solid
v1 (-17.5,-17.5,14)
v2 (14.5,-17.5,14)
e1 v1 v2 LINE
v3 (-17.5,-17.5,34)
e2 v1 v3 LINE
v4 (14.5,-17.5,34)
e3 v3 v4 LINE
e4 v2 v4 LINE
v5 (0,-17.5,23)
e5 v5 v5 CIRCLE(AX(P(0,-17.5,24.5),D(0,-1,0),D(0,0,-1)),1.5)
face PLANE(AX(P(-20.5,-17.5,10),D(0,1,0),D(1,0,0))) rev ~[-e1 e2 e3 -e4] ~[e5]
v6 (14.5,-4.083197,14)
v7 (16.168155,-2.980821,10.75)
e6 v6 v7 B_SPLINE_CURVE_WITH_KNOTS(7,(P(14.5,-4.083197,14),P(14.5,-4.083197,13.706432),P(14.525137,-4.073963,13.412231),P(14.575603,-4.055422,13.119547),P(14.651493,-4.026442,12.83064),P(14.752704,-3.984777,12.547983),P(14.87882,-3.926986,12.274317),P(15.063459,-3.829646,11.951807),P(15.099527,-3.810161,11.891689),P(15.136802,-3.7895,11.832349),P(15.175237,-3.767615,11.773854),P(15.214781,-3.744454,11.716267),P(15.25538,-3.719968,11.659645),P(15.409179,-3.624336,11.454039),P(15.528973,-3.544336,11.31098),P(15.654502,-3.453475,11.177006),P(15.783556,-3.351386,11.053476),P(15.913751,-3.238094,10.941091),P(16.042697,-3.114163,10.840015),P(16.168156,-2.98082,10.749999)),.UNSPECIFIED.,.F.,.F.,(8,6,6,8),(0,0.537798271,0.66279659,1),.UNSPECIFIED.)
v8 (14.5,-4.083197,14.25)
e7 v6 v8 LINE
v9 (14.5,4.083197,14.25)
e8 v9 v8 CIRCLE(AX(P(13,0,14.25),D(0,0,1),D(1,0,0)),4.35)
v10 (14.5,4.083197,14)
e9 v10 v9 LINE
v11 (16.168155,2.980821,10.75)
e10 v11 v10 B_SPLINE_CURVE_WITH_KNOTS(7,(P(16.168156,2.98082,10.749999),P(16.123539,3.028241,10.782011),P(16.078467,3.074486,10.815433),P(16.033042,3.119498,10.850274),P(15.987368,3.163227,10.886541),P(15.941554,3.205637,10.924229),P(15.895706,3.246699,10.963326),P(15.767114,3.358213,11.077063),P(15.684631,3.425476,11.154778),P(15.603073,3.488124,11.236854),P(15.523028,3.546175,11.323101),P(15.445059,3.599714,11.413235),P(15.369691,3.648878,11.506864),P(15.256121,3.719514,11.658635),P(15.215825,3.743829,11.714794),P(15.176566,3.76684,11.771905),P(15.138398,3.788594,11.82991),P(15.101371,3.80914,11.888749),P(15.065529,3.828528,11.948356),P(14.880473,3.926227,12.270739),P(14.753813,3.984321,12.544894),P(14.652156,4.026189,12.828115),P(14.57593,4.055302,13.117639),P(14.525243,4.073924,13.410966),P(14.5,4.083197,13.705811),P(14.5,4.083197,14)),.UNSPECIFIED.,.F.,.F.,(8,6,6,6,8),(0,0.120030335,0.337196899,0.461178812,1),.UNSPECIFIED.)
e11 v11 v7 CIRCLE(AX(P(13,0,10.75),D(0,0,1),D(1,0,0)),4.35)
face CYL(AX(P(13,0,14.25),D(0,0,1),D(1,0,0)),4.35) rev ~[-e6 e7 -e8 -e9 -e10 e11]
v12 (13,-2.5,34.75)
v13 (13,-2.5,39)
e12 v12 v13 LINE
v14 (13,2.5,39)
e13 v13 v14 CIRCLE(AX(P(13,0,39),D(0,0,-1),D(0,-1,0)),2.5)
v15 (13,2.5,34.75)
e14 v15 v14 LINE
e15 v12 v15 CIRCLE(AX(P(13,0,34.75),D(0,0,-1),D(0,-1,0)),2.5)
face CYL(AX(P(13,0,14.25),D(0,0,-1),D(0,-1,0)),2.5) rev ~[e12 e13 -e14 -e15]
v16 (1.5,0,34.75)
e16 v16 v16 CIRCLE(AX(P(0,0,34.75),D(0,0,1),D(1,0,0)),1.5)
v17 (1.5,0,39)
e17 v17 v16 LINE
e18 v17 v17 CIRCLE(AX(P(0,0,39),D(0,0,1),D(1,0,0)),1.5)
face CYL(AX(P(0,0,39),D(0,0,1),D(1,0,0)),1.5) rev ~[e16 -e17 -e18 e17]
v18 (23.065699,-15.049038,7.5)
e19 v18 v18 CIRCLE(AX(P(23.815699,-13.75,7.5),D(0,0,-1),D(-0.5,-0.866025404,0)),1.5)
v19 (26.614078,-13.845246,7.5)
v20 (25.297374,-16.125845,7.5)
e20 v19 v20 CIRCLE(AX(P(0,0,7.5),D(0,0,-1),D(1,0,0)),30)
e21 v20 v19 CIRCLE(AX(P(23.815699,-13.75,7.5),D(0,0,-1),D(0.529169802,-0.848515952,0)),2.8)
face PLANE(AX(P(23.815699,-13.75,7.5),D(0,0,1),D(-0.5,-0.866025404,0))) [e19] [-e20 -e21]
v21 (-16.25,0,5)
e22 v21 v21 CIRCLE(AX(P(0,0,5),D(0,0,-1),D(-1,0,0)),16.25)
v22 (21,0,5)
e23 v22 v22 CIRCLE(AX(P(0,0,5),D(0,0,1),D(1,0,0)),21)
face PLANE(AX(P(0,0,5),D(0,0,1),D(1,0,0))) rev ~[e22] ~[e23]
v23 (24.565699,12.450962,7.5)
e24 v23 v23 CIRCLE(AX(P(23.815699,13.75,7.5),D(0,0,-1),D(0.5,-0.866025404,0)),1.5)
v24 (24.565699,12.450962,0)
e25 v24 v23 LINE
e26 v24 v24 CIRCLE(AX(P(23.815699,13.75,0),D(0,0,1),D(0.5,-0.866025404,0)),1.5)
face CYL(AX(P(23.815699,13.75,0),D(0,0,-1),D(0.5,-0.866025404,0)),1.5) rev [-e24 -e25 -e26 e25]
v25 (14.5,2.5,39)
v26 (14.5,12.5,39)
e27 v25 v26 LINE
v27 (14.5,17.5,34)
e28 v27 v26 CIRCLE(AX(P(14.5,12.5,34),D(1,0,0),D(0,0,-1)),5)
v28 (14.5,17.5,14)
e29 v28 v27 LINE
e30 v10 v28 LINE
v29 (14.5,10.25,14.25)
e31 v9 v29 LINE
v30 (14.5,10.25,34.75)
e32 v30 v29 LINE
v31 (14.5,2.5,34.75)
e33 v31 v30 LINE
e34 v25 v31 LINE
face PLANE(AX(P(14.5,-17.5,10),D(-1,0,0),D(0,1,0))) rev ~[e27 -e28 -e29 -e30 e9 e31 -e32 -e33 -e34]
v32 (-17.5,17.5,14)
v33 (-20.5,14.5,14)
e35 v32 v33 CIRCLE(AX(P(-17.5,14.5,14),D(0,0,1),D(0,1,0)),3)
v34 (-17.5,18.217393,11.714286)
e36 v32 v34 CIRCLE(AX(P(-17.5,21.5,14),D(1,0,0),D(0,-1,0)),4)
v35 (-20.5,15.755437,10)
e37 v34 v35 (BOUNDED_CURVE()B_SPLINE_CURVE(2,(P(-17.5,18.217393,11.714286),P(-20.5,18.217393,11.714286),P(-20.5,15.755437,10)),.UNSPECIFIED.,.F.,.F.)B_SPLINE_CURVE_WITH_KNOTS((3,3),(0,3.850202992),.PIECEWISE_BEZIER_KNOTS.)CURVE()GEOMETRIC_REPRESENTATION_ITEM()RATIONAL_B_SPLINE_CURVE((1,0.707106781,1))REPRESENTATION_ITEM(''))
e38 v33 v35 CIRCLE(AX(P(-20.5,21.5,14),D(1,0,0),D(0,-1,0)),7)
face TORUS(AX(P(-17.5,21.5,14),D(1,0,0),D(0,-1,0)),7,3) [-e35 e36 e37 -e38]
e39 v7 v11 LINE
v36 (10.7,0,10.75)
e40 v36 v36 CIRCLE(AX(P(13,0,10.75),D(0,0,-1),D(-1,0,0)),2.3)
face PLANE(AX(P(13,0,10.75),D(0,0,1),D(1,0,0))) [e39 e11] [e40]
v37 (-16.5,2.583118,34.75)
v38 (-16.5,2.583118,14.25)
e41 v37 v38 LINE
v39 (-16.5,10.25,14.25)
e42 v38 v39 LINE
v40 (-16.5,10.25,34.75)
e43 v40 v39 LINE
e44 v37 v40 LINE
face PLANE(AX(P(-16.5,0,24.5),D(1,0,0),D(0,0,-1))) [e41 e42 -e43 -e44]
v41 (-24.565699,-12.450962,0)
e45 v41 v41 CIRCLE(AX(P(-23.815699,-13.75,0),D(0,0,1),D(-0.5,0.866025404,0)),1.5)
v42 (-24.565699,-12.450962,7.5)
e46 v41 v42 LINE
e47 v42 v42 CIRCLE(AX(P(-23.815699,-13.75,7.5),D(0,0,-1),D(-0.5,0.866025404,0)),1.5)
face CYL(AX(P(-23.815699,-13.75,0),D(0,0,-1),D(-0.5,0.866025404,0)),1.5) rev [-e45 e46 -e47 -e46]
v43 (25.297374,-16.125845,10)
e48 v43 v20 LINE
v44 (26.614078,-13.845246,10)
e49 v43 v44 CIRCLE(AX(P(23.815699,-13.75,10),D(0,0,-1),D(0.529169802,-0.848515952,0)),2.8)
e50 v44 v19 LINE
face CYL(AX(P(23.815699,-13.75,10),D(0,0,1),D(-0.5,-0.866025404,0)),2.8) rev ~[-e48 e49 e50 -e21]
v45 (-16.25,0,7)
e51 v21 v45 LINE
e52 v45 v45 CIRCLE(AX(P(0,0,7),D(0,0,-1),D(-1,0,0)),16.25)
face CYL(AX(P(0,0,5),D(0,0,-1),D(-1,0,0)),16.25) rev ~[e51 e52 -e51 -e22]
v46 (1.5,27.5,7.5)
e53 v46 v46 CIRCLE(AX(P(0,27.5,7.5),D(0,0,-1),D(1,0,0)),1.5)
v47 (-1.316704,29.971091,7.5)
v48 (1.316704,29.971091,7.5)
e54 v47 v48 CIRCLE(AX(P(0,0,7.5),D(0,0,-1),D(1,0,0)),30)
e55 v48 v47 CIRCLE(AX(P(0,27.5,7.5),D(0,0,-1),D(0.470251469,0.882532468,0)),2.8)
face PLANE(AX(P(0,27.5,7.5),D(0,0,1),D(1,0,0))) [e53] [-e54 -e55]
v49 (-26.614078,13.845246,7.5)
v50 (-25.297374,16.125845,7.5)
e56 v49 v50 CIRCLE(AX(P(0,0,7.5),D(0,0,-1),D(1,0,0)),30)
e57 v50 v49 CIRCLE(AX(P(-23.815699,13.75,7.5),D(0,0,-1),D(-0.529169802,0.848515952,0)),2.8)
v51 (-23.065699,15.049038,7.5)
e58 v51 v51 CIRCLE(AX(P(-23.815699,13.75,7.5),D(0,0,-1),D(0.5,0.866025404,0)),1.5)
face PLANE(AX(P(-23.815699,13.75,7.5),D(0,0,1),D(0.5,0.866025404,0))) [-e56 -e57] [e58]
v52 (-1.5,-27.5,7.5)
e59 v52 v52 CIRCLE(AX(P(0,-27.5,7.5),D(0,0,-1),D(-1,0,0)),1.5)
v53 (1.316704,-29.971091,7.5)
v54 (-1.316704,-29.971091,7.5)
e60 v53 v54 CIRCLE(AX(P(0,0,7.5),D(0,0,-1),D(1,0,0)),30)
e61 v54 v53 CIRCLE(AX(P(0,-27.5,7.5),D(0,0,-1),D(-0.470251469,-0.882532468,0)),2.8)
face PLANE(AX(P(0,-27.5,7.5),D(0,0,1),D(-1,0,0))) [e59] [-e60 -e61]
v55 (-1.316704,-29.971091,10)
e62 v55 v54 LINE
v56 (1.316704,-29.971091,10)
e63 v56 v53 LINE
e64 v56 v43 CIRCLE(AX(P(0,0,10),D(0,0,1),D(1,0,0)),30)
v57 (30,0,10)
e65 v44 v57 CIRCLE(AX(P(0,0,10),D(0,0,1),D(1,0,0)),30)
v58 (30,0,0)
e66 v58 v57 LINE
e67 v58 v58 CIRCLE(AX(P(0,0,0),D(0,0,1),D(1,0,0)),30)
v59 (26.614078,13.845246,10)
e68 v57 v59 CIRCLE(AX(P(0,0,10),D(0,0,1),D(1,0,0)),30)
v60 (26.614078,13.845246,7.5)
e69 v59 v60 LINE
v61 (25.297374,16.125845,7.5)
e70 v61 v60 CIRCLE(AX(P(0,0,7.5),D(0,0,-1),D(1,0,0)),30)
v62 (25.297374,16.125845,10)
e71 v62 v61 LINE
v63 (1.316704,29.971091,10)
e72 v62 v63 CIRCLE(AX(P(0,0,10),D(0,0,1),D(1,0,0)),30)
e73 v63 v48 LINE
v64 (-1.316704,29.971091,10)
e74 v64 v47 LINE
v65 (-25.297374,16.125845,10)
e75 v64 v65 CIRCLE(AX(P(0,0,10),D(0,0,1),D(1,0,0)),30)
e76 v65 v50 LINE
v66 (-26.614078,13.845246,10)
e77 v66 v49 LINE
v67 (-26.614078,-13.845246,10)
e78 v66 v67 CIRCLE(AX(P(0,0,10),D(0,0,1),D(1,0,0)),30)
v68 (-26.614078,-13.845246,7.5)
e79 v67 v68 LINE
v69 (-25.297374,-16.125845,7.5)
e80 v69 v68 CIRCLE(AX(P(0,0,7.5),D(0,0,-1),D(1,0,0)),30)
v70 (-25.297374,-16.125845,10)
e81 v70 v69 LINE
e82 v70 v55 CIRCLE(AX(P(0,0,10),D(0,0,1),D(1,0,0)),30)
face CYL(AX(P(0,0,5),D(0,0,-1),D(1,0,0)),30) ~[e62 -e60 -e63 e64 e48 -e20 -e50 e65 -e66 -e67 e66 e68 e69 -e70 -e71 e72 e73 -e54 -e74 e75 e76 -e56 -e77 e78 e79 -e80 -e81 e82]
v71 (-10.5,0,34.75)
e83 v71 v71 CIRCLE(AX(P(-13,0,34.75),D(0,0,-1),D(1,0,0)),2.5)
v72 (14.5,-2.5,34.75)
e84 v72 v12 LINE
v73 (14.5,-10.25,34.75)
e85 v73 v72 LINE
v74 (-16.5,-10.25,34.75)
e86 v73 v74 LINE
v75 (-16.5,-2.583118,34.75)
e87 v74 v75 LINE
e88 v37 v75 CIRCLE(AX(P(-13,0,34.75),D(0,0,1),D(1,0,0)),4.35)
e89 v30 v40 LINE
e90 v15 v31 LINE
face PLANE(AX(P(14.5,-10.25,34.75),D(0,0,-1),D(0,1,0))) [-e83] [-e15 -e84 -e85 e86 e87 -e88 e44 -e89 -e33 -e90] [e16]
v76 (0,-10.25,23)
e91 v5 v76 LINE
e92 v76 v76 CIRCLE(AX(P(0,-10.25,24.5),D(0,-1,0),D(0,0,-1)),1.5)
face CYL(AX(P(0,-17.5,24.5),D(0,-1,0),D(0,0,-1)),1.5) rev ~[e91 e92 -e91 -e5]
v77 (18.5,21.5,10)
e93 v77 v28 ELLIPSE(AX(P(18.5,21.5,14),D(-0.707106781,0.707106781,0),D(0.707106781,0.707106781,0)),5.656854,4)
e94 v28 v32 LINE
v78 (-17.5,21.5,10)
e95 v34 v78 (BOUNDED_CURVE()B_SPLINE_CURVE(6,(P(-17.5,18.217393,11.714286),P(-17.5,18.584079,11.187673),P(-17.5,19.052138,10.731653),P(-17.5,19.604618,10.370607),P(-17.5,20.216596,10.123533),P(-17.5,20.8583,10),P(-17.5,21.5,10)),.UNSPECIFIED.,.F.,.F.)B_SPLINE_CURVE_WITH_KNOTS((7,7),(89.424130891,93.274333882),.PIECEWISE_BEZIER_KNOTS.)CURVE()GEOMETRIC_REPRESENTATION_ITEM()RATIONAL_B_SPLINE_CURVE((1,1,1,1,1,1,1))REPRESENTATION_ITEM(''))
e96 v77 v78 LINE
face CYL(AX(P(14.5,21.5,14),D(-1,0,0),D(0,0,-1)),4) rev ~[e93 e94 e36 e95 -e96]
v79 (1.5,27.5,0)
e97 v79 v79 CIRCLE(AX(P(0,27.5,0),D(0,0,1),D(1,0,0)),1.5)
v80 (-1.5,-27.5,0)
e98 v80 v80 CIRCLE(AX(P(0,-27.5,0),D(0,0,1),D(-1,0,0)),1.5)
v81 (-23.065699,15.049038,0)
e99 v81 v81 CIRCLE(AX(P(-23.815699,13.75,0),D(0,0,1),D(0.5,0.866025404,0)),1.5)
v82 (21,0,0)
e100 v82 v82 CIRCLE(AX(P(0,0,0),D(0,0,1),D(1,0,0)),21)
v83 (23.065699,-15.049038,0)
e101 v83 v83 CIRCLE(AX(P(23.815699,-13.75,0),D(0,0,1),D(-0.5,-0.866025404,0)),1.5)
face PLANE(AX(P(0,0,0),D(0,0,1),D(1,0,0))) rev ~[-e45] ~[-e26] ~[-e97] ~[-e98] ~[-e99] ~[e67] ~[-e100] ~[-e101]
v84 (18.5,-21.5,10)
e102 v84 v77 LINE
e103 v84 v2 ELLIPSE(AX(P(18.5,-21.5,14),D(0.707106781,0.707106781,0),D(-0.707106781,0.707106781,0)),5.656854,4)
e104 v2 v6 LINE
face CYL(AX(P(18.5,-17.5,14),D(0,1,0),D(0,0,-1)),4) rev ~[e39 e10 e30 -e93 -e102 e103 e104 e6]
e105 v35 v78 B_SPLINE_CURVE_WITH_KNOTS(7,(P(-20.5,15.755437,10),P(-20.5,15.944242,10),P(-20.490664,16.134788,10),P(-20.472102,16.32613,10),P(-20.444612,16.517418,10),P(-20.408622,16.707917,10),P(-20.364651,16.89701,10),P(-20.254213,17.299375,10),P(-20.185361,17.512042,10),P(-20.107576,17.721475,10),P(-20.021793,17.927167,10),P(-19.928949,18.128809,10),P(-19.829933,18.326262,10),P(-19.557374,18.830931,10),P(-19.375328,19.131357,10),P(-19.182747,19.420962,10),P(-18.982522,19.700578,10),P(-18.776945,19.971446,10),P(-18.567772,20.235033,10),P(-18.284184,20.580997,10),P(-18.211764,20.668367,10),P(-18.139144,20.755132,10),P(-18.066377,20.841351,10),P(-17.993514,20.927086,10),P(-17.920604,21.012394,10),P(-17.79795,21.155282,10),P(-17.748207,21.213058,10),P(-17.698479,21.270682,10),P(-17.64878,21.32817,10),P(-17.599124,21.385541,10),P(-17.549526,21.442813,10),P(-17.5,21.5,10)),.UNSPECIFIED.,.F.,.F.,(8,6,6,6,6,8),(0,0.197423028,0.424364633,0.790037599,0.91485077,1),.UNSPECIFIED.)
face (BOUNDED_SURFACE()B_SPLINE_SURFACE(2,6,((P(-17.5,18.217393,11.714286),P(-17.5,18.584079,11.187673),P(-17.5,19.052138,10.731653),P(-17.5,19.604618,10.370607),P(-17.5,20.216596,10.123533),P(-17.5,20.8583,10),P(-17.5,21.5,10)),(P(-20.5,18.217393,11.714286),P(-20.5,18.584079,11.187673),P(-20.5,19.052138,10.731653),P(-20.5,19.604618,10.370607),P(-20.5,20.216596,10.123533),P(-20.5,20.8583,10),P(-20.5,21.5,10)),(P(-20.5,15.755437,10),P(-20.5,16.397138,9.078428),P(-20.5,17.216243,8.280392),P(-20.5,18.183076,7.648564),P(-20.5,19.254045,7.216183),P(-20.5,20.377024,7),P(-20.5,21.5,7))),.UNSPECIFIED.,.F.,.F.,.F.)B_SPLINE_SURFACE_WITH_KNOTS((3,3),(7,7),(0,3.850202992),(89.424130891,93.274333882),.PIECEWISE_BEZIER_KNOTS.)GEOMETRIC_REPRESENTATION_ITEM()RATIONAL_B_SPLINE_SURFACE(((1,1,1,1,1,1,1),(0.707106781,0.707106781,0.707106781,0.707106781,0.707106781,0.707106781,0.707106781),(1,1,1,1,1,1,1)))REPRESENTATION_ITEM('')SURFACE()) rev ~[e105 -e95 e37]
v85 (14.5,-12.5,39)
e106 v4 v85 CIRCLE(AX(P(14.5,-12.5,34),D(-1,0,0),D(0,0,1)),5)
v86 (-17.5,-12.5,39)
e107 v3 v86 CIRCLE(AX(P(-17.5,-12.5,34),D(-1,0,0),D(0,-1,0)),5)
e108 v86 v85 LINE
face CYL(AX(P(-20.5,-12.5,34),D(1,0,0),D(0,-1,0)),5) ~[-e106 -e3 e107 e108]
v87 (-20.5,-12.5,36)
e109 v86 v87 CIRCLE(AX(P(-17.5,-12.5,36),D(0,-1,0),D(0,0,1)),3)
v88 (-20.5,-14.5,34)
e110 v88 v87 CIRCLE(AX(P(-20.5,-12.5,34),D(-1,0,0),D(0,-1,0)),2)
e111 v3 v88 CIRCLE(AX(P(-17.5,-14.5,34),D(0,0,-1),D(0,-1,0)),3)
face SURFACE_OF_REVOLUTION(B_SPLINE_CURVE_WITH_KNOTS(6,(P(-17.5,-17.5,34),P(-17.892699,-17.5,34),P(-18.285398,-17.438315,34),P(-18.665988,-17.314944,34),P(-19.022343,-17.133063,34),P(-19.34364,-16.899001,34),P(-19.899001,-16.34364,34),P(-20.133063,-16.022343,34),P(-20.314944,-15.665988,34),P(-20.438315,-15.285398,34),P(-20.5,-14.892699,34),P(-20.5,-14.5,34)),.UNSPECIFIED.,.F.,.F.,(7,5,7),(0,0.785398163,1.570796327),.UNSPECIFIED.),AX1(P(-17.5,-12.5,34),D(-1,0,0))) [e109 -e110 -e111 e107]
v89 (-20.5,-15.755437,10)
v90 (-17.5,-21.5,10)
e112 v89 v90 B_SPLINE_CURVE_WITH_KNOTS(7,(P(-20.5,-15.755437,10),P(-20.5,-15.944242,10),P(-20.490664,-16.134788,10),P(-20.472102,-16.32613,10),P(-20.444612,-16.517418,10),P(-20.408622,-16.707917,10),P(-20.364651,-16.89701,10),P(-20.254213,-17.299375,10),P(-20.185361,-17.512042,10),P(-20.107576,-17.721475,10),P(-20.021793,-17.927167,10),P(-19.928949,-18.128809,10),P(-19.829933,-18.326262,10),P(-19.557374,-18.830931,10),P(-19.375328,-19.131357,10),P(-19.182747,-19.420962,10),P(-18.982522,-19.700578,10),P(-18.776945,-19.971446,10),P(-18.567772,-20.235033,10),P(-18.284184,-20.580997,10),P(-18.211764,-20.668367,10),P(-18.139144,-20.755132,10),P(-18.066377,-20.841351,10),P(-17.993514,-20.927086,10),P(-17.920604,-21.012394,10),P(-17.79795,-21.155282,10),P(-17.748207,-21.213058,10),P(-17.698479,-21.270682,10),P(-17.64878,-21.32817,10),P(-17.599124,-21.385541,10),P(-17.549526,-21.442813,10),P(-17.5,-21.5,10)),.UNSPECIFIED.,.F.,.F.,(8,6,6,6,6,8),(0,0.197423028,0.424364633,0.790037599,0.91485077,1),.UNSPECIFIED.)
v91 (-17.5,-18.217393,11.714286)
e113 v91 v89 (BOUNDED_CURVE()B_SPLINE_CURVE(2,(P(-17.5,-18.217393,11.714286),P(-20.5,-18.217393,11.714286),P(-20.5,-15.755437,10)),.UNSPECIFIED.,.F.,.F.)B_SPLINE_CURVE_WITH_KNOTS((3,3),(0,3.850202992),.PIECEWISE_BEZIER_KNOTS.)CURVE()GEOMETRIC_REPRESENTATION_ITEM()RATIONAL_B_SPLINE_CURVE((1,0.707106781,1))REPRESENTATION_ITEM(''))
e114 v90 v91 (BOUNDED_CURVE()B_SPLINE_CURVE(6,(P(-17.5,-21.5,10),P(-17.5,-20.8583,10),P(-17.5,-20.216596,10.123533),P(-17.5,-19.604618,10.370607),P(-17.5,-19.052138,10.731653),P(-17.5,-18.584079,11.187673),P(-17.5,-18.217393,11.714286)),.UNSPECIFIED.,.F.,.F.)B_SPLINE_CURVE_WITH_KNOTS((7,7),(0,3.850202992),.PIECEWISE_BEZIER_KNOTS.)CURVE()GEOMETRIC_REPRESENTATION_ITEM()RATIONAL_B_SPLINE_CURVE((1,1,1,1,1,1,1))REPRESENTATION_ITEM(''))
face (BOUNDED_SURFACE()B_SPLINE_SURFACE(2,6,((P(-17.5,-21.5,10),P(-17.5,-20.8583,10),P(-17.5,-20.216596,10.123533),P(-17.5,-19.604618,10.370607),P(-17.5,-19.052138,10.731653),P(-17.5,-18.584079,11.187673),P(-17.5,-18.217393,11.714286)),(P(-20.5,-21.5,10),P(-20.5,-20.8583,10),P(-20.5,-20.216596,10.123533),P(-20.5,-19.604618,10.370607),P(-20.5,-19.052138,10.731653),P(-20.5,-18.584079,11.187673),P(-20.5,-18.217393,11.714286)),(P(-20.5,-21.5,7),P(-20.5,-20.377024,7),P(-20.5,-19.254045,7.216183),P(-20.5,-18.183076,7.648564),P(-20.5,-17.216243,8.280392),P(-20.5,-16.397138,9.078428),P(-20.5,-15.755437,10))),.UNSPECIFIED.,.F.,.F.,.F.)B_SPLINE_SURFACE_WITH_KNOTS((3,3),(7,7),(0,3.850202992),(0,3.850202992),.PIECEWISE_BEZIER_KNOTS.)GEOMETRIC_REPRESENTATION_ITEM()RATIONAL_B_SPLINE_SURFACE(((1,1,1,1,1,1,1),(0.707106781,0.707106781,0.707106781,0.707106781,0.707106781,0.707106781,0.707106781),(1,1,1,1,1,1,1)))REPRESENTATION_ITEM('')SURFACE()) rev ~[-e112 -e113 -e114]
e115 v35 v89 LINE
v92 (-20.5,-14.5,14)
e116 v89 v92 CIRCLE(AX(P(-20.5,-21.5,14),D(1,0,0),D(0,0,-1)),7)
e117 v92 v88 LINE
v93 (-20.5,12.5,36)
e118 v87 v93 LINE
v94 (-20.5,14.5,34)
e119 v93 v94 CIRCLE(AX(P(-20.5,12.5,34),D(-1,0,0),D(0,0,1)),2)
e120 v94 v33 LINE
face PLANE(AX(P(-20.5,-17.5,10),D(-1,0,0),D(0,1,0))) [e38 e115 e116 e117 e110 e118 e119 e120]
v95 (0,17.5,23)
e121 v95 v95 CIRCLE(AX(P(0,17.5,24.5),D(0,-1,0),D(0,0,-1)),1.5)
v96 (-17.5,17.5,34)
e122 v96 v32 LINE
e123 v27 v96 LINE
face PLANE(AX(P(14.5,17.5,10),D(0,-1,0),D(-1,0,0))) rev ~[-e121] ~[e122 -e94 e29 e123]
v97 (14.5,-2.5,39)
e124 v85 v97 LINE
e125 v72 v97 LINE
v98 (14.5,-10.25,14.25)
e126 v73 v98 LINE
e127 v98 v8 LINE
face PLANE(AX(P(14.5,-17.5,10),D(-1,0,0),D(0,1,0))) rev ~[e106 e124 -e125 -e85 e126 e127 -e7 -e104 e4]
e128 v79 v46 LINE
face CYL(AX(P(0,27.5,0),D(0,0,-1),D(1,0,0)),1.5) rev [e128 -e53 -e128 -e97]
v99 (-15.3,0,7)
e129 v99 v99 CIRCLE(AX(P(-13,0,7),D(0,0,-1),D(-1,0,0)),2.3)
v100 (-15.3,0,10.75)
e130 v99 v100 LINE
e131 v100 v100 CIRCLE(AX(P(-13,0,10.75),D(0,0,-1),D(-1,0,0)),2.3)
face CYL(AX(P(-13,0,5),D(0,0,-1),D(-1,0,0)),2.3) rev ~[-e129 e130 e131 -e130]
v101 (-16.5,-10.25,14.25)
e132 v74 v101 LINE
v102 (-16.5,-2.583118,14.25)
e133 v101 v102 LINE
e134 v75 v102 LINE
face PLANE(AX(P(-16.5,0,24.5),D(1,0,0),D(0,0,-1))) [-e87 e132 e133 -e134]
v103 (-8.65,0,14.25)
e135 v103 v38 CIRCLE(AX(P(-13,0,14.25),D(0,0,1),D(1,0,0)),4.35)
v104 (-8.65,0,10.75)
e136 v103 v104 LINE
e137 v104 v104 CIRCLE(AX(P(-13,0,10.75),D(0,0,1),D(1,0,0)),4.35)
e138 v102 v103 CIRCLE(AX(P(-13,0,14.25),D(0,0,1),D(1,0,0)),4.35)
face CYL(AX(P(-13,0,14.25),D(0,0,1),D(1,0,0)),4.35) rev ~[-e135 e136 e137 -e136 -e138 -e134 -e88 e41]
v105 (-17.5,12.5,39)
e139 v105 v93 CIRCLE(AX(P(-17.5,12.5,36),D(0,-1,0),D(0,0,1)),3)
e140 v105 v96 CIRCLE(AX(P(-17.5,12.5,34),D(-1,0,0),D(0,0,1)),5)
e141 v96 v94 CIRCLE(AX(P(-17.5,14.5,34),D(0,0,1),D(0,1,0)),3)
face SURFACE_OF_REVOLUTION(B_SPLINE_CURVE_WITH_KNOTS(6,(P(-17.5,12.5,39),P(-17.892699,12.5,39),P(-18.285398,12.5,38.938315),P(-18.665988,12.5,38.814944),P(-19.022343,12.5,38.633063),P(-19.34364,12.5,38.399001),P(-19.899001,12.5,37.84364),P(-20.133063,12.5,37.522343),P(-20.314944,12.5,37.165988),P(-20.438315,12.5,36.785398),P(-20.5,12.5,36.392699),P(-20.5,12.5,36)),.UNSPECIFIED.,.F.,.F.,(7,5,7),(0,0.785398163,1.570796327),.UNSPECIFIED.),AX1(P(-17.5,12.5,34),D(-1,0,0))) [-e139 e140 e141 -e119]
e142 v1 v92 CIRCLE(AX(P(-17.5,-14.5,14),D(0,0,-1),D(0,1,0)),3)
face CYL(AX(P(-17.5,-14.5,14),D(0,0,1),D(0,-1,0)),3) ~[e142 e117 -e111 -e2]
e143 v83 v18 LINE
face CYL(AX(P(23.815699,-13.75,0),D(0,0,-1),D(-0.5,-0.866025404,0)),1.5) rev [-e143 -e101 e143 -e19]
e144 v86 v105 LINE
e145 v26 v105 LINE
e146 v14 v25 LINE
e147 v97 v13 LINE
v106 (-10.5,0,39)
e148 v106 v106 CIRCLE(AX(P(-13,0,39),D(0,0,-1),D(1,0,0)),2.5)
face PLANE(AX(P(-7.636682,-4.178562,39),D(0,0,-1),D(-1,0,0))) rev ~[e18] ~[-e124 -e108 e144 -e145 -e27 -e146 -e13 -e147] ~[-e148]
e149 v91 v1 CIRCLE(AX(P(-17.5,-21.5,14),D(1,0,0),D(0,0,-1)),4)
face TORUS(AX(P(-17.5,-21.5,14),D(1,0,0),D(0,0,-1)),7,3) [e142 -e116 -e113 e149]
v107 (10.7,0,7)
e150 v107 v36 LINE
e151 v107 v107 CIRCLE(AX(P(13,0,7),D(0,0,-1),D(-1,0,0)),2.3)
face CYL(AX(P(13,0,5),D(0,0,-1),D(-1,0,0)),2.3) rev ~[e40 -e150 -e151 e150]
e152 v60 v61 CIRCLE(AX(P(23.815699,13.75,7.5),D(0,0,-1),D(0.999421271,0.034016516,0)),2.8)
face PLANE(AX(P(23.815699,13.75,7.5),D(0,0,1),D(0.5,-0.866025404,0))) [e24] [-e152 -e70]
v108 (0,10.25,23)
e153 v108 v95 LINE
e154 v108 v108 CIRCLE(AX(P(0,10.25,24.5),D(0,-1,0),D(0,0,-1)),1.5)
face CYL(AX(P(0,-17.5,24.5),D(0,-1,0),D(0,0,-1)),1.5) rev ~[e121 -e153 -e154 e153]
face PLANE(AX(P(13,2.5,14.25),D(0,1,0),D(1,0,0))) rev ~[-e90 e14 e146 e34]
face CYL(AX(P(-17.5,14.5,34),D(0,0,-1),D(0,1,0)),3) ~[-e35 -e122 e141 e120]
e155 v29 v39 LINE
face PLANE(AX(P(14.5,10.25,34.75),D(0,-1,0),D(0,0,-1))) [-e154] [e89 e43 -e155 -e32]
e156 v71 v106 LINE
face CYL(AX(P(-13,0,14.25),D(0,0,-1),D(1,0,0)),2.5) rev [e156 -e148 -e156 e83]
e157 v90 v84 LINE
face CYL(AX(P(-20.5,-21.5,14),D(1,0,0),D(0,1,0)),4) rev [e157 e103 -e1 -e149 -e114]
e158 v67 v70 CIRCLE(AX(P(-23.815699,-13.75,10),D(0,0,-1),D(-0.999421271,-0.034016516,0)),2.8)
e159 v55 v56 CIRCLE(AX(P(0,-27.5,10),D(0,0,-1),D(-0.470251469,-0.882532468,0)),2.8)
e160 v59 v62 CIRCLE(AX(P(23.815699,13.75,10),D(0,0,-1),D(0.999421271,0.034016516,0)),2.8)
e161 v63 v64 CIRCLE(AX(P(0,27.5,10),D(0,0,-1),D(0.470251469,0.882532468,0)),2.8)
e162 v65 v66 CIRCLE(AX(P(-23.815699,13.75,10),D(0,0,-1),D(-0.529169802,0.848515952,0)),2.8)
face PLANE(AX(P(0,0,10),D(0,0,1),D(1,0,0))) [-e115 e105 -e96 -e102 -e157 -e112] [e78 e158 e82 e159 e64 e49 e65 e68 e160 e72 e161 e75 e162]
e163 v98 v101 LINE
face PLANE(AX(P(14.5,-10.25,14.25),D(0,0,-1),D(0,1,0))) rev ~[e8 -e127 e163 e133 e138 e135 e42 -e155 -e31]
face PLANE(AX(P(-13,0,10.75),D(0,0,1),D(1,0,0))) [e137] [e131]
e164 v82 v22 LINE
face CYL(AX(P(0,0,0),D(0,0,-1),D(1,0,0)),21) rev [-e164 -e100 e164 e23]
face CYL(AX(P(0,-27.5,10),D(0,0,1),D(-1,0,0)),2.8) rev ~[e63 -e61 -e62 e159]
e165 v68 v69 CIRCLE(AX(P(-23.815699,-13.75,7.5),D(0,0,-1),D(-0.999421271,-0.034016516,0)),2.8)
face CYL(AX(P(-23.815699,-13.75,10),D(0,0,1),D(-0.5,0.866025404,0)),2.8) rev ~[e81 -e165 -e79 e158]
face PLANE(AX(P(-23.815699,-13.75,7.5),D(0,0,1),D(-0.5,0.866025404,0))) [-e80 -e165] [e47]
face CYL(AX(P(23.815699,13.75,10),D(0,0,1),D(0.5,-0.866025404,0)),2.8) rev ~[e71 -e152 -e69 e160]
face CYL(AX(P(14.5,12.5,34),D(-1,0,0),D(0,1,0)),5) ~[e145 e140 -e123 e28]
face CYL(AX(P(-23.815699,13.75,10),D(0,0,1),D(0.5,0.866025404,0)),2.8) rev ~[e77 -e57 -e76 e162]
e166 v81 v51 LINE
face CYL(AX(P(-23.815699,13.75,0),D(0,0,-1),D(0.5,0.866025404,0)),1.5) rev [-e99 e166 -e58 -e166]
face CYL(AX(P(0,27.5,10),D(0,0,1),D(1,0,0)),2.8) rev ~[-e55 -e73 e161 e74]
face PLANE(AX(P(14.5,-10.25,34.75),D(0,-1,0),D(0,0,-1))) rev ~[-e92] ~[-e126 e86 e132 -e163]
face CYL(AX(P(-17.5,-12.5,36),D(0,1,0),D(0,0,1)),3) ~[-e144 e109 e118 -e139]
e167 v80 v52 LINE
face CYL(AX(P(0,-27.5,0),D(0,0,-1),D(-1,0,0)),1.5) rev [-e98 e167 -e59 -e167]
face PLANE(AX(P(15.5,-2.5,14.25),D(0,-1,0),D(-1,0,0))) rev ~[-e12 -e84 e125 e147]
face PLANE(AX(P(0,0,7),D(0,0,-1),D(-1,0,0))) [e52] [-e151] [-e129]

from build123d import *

# Parameters (mm, degrees)
SCHIZZO1_R                   = 30
SCHIZZO1_R_2                 = 21
ESTRUSIONE_ESTRUSIONE1_DEPTH = 5
SCHIZZO7_R                   = 30
ESTRUSIONE_ESTRUSIONE2_DEPTH = 5
SCHIZZO3_R                   = 1.5
TAGLIO_ESTRUSIONE3_DEPTH     = 8
SCHIZZO10_R                  = 2.8
TAGLIO_ESTRUSIONE4_DEPTH     = 2.5
RIPETIZIONECIRCOLARE1_COUNT  = 6
SCHIZZO11_W                  = 14.5
SCHIZZO11_H                  = 17.5
ESTRUSIONE_ESTRUSIONE4_DEPTH = 29
SCHIZZO12_W                  = 20.5
SCHIZZO12_H                  = 20.5
TAGLIO_ESTRUSIONE5_DEPTH     = 31
RACCORDO3_R                  = 5
SCHIZZO13_R                  = 1.5
TAGLIO_ESTRUSIONE6_DEPTH     = 69.390423306
SCHIZZO14_R                  = 1.5
TAGLIO_ESTRUSIONE7_DEPTH     = 20
RACCORDO4_R                  = 4
RACCORDO5_R                  = 3
TAGLIO_ESTRUSIONE10_REACH    = 56.369
SCHIZZO15_R                  = 2.3
SCHIZZO16_R                  = 16.25
SCHIZZO16_R_2                = 2.3
TAGLIO_ESTRUSIONE11_DEPTH    = 2
SCHIZZO17_R                  = 4.35
TAGLIO_ESTRUSIONE12_DEPTH    = 3.5
SCHIZZO18_R                  = 4.35
TAGLIO_ESTRUSIONE13_DEPTH    = 20.5
SCHIZZO20_R                  = 2.5
TAGLIO_ESTRUSIONE14_DEPTH    = 50.117843051


with BuildPart() as part:
    # Schizzo1 → Estrusione-Estrusione1 (new body)
    with BuildSketch(Plane.XY):
        Circle(SCHIZZO1_R)
        Circle(SCHIZZO1_R_2, mode=Mode.SUBTRACT)
    extrude(amount=ESTRUSIONE_ESTRUSIONE1_DEPTH)

    # Schizzo7 → Estrusione-Estrusione2 (add)
    with BuildSketch(Plane.XY.offset(5)):
        Circle(SCHIZZO7_R)
    extrude(amount=ESTRUSIONE_ESTRUSIONE2_DEPTH)

    # Schizzo3 → Taglio-Estrusione3 (cut)
    with BuildSketch(Plane.XY):
        with Locations((0, 27.5)):
            Circle(SCHIZZO3_R)
    taglio_estrusione3 = extrude(amount=TAGLIO_ESTRUSIONE3_DEPTH, mode=Mode.SUBTRACT)

    # Schizzo10 → Taglio-Estrusione4 (cut)
    with BuildSketch(Plane.XY.offset(10)):
        with Locations((0, 27.5)):
            Circle(SCHIZZO10_R)
    taglio_estrusione4 = extrude(amount=-TAGLIO_ESTRUSIONE4_DEPTH, mode=Mode.SUBTRACT)

    # RipetizioneCircolare1: Taglio-Estrusione3, Taglio-Estrusione4 ×6 about axis
    ripetizionecircolare1_axis = Axis((0, 0, 0), (0, 0, 1))
    add([taglio_estrusione3.rotate(ripetizionecircolare1_axis, i * 360 / RIPETIZIONECIRCOLARE1_COUNT) for i in range(1, RIPETIZIONECIRCOLARE1_COUNT)], mode=Mode.SUBTRACT)
    add([taglio_estrusione4.rotate(ripetizionecircolare1_axis, i * 360 / RIPETIZIONECIRCOLARE1_COUNT) for i in range(1, RIPETIZIONECIRCOLARE1_COUNT)], mode=Mode.SUBTRACT)

    # Schizzo11 → Estrusione-Estrusione4 (add)
    with BuildSketch(Plane.XY.offset(10)):
        Polygon((-14.5, 17.5), (14.5, -17.5), (-14.5, -17.5), (-20.5, -17.5), (-20.5, 17.5), align=None)
        Polygon((0, 17.5), (-14.5, 17.5), (0, 0), align=None)
        with Locations((7.25, 8.75)):
            Rectangle(SCHIZZO11_W, SCHIZZO11_H)
        Polygon((14.5, 0), (0, 0), (14.5, -17.5), align=None)
    extrude(amount=ESTRUSIONE_ESTRUSIONE4_DEPTH)

    # Schizzo12 → Taglio-Estrusione5 (cut)
    with BuildSketch(Plane(origin=(14.5, 0, 0), x_dir=(0, 0, -1), z_dir=(1, 0, 0))):
        with Locations((-24.5, 0)):
            Rectangle(SCHIZZO12_W, SCHIZZO12_H)
    extrude(amount=-TAGLIO_ESTRUSIONE5_DEPTH, mode=Mode.SUBTRACT)

    # Raccordo3
    raccordo3_edges = [part.edges().sort_by_distance(p)[0] for p in [
        (-3, 17.5, 39),
        (-3, -17.5, 39),
    ]]
    fillet(raccordo3_edges, radius=RACCORDO3_R)

    # Schizzo13 → Taglio-Estrusione6 (cut, through all)
    with BuildSketch(Plane.XZ.offset(17.5)):
        with Locations(Location((0, 24.5, 0), (0, 0, 270))):
            Circle(SCHIZZO13_R)
    extrude(amount=-TAGLIO_ESTRUSIONE6_DEPTH, mode=Mode.SUBTRACT)

    # Schizzo14 → Taglio-Estrusione7 (cut)
    with BuildSketch(Plane.XY.offset(39)):
        Circle(SCHIZZO14_R)
    extrude(amount=-TAGLIO_ESTRUSIONE7_DEPTH, mode=Mode.SUBTRACT)

    # Raccordo4
    raccordo4_edges = [part.edges().sort_by_distance(p)[0] for p in [
        (14.5, 0, 10),
        (-3, -17.5, 10),
        (-3, 17.5, 10),
    ]]
    fillet(raccordo4_edges, radius=RACCORDO4_R)

    # Raccordo5
    raccordo5_edges = [part.edges().sort_by_distance(p)[0] for p in [
        (-20.5, -17.5, 24),
        (-20.5, 0, 39),
        (-20.5, 17.5, 24),
        (-20.5, 16.035533906, 37.535533906),
        (-20.5, -16.035533906, 37.535533906),
        (-20.5, 18.671572875, 11.171572875),
        (-20.5, -18.671572875, 11.171572875),
    ]]
    fillet(raccordo5_edges, radius=RACCORDO5_R)

    # Taglio-Estrusione10: up to this face of the body (flat: up to its plane)
    taglio_estrusione10_end = Plane(part.part.faces().sort_by_distance((-1, 0, 14.25))[0])
    # Schizzo15 → Taglio-Estrusione10 (cut, up to the picked face)
    with BuildSketch(Plane(origin=(0, 0, 5), x_dir=(-1, 0, 0), z_dir=(0, 0, -1)), mode=Mode.PRIVATE) as taglio_estrusione10_sk1:
        with Locations((13, 0)):
            Circle(SCHIZZO15_R)
    taglio_estrusione10_tool1 = split(extrude(taglio_estrusione10_sk1.sketch, amount=-TAGLIO_ESTRUSIONE10_REACH, mode=Mode.PRIVATE), bisect_by=taglio_estrusione10_end, keep=Keep.BOTH, mode=Mode.PRIVATE)
    # Schizzo15 → Taglio-Estrusione10 (cut, up to the picked face)
    with BuildSketch(Plane(origin=(0, 0, 5), x_dir=(-1, 0, 0), z_dir=(0, 0, -1)), mode=Mode.PRIVATE) as taglio_estrusione10_sk2:
        with Locations((-13, 0)):
            Circle(SCHIZZO15_R)
    taglio_estrusione10_tool2 = split(extrude(taglio_estrusione10_sk2.sketch, amount=-TAGLIO_ESTRUSIONE10_REACH, mode=Mode.PRIVATE), bisect_by=taglio_estrusione10_end, keep=Keep.BOTH, mode=Mode.PRIVATE)
    add(taglio_estrusione10_tool1.solids().sort_by(Axis((-13, 0, 5), (0, 0, 1)))[0], mode=Mode.SUBTRACT)
    add(taglio_estrusione10_tool2.solids().sort_by(Axis((13, 0, 5), (0, 0, 1)))[0], mode=Mode.SUBTRACT)

    # Schizzo16 → Taglio-Estrusione11 (cut)
    with BuildSketch(Plane(origin=(0, 0, 5), x_dir=(-1, 0, 0), z_dir=(0, 0, -1))):
        Circle(SCHIZZO16_R)
        with Locations((-13, 0)):
            Circle(SCHIZZO16_R_2, mode=Mode.SUBTRACT)
        with Locations((13, 0)):
            Circle(SCHIZZO16_R_2, mode=Mode.SUBTRACT)
    extrude(amount=-TAGLIO_ESTRUSIONE11_DEPTH, mode=Mode.SUBTRACT)

    # Schizzo17 → Taglio-Estrusione12 (cut)
    with BuildSketch(Plane.XY.offset(14.25)):
        with Locations((-13, 0)):
            Circle(SCHIZZO17_R)
        with Locations((13, 0)):
            Circle(SCHIZZO17_R)
    extrude(amount=-TAGLIO_ESTRUSIONE12_DEPTH, mode=Mode.SUBTRACT)

    # Schizzo18 → Taglio-Estrusione13 (cut)
    with BuildSketch(Plane.XY.offset(14.25)):
        with Locations((-13, 0)):
            Circle(SCHIZZO18_R)
        with Locations((13, 0)):
            Circle(SCHIZZO18_R)
    extrude(amount=TAGLIO_ESTRUSIONE13_DEPTH, mode=Mode.SUBTRACT)

    # Schizzo20 → Taglio-Estrusione14 (cut, through all)
    with BuildSketch(Plane.XY.offset(14.25)):
        with Locations((-13, 0)):
            Circle(SCHIZZO20_R)
        with BuildLine():
            Line((13, 2.5), (15.5, 2.5))
            Line((15.5, 2.5), (15.5, -2.5))
            Line((15.5, -2.5), (13, -2.5))
            ThreePointArc((13, -2.5), (10.5, 0), (13, 2.5))
        make_face()
    extrude(amount=TAGLIO_ESTRUSIONE14_DEPTH, mode=Mode.SUBTRACT)


solid = part.part
